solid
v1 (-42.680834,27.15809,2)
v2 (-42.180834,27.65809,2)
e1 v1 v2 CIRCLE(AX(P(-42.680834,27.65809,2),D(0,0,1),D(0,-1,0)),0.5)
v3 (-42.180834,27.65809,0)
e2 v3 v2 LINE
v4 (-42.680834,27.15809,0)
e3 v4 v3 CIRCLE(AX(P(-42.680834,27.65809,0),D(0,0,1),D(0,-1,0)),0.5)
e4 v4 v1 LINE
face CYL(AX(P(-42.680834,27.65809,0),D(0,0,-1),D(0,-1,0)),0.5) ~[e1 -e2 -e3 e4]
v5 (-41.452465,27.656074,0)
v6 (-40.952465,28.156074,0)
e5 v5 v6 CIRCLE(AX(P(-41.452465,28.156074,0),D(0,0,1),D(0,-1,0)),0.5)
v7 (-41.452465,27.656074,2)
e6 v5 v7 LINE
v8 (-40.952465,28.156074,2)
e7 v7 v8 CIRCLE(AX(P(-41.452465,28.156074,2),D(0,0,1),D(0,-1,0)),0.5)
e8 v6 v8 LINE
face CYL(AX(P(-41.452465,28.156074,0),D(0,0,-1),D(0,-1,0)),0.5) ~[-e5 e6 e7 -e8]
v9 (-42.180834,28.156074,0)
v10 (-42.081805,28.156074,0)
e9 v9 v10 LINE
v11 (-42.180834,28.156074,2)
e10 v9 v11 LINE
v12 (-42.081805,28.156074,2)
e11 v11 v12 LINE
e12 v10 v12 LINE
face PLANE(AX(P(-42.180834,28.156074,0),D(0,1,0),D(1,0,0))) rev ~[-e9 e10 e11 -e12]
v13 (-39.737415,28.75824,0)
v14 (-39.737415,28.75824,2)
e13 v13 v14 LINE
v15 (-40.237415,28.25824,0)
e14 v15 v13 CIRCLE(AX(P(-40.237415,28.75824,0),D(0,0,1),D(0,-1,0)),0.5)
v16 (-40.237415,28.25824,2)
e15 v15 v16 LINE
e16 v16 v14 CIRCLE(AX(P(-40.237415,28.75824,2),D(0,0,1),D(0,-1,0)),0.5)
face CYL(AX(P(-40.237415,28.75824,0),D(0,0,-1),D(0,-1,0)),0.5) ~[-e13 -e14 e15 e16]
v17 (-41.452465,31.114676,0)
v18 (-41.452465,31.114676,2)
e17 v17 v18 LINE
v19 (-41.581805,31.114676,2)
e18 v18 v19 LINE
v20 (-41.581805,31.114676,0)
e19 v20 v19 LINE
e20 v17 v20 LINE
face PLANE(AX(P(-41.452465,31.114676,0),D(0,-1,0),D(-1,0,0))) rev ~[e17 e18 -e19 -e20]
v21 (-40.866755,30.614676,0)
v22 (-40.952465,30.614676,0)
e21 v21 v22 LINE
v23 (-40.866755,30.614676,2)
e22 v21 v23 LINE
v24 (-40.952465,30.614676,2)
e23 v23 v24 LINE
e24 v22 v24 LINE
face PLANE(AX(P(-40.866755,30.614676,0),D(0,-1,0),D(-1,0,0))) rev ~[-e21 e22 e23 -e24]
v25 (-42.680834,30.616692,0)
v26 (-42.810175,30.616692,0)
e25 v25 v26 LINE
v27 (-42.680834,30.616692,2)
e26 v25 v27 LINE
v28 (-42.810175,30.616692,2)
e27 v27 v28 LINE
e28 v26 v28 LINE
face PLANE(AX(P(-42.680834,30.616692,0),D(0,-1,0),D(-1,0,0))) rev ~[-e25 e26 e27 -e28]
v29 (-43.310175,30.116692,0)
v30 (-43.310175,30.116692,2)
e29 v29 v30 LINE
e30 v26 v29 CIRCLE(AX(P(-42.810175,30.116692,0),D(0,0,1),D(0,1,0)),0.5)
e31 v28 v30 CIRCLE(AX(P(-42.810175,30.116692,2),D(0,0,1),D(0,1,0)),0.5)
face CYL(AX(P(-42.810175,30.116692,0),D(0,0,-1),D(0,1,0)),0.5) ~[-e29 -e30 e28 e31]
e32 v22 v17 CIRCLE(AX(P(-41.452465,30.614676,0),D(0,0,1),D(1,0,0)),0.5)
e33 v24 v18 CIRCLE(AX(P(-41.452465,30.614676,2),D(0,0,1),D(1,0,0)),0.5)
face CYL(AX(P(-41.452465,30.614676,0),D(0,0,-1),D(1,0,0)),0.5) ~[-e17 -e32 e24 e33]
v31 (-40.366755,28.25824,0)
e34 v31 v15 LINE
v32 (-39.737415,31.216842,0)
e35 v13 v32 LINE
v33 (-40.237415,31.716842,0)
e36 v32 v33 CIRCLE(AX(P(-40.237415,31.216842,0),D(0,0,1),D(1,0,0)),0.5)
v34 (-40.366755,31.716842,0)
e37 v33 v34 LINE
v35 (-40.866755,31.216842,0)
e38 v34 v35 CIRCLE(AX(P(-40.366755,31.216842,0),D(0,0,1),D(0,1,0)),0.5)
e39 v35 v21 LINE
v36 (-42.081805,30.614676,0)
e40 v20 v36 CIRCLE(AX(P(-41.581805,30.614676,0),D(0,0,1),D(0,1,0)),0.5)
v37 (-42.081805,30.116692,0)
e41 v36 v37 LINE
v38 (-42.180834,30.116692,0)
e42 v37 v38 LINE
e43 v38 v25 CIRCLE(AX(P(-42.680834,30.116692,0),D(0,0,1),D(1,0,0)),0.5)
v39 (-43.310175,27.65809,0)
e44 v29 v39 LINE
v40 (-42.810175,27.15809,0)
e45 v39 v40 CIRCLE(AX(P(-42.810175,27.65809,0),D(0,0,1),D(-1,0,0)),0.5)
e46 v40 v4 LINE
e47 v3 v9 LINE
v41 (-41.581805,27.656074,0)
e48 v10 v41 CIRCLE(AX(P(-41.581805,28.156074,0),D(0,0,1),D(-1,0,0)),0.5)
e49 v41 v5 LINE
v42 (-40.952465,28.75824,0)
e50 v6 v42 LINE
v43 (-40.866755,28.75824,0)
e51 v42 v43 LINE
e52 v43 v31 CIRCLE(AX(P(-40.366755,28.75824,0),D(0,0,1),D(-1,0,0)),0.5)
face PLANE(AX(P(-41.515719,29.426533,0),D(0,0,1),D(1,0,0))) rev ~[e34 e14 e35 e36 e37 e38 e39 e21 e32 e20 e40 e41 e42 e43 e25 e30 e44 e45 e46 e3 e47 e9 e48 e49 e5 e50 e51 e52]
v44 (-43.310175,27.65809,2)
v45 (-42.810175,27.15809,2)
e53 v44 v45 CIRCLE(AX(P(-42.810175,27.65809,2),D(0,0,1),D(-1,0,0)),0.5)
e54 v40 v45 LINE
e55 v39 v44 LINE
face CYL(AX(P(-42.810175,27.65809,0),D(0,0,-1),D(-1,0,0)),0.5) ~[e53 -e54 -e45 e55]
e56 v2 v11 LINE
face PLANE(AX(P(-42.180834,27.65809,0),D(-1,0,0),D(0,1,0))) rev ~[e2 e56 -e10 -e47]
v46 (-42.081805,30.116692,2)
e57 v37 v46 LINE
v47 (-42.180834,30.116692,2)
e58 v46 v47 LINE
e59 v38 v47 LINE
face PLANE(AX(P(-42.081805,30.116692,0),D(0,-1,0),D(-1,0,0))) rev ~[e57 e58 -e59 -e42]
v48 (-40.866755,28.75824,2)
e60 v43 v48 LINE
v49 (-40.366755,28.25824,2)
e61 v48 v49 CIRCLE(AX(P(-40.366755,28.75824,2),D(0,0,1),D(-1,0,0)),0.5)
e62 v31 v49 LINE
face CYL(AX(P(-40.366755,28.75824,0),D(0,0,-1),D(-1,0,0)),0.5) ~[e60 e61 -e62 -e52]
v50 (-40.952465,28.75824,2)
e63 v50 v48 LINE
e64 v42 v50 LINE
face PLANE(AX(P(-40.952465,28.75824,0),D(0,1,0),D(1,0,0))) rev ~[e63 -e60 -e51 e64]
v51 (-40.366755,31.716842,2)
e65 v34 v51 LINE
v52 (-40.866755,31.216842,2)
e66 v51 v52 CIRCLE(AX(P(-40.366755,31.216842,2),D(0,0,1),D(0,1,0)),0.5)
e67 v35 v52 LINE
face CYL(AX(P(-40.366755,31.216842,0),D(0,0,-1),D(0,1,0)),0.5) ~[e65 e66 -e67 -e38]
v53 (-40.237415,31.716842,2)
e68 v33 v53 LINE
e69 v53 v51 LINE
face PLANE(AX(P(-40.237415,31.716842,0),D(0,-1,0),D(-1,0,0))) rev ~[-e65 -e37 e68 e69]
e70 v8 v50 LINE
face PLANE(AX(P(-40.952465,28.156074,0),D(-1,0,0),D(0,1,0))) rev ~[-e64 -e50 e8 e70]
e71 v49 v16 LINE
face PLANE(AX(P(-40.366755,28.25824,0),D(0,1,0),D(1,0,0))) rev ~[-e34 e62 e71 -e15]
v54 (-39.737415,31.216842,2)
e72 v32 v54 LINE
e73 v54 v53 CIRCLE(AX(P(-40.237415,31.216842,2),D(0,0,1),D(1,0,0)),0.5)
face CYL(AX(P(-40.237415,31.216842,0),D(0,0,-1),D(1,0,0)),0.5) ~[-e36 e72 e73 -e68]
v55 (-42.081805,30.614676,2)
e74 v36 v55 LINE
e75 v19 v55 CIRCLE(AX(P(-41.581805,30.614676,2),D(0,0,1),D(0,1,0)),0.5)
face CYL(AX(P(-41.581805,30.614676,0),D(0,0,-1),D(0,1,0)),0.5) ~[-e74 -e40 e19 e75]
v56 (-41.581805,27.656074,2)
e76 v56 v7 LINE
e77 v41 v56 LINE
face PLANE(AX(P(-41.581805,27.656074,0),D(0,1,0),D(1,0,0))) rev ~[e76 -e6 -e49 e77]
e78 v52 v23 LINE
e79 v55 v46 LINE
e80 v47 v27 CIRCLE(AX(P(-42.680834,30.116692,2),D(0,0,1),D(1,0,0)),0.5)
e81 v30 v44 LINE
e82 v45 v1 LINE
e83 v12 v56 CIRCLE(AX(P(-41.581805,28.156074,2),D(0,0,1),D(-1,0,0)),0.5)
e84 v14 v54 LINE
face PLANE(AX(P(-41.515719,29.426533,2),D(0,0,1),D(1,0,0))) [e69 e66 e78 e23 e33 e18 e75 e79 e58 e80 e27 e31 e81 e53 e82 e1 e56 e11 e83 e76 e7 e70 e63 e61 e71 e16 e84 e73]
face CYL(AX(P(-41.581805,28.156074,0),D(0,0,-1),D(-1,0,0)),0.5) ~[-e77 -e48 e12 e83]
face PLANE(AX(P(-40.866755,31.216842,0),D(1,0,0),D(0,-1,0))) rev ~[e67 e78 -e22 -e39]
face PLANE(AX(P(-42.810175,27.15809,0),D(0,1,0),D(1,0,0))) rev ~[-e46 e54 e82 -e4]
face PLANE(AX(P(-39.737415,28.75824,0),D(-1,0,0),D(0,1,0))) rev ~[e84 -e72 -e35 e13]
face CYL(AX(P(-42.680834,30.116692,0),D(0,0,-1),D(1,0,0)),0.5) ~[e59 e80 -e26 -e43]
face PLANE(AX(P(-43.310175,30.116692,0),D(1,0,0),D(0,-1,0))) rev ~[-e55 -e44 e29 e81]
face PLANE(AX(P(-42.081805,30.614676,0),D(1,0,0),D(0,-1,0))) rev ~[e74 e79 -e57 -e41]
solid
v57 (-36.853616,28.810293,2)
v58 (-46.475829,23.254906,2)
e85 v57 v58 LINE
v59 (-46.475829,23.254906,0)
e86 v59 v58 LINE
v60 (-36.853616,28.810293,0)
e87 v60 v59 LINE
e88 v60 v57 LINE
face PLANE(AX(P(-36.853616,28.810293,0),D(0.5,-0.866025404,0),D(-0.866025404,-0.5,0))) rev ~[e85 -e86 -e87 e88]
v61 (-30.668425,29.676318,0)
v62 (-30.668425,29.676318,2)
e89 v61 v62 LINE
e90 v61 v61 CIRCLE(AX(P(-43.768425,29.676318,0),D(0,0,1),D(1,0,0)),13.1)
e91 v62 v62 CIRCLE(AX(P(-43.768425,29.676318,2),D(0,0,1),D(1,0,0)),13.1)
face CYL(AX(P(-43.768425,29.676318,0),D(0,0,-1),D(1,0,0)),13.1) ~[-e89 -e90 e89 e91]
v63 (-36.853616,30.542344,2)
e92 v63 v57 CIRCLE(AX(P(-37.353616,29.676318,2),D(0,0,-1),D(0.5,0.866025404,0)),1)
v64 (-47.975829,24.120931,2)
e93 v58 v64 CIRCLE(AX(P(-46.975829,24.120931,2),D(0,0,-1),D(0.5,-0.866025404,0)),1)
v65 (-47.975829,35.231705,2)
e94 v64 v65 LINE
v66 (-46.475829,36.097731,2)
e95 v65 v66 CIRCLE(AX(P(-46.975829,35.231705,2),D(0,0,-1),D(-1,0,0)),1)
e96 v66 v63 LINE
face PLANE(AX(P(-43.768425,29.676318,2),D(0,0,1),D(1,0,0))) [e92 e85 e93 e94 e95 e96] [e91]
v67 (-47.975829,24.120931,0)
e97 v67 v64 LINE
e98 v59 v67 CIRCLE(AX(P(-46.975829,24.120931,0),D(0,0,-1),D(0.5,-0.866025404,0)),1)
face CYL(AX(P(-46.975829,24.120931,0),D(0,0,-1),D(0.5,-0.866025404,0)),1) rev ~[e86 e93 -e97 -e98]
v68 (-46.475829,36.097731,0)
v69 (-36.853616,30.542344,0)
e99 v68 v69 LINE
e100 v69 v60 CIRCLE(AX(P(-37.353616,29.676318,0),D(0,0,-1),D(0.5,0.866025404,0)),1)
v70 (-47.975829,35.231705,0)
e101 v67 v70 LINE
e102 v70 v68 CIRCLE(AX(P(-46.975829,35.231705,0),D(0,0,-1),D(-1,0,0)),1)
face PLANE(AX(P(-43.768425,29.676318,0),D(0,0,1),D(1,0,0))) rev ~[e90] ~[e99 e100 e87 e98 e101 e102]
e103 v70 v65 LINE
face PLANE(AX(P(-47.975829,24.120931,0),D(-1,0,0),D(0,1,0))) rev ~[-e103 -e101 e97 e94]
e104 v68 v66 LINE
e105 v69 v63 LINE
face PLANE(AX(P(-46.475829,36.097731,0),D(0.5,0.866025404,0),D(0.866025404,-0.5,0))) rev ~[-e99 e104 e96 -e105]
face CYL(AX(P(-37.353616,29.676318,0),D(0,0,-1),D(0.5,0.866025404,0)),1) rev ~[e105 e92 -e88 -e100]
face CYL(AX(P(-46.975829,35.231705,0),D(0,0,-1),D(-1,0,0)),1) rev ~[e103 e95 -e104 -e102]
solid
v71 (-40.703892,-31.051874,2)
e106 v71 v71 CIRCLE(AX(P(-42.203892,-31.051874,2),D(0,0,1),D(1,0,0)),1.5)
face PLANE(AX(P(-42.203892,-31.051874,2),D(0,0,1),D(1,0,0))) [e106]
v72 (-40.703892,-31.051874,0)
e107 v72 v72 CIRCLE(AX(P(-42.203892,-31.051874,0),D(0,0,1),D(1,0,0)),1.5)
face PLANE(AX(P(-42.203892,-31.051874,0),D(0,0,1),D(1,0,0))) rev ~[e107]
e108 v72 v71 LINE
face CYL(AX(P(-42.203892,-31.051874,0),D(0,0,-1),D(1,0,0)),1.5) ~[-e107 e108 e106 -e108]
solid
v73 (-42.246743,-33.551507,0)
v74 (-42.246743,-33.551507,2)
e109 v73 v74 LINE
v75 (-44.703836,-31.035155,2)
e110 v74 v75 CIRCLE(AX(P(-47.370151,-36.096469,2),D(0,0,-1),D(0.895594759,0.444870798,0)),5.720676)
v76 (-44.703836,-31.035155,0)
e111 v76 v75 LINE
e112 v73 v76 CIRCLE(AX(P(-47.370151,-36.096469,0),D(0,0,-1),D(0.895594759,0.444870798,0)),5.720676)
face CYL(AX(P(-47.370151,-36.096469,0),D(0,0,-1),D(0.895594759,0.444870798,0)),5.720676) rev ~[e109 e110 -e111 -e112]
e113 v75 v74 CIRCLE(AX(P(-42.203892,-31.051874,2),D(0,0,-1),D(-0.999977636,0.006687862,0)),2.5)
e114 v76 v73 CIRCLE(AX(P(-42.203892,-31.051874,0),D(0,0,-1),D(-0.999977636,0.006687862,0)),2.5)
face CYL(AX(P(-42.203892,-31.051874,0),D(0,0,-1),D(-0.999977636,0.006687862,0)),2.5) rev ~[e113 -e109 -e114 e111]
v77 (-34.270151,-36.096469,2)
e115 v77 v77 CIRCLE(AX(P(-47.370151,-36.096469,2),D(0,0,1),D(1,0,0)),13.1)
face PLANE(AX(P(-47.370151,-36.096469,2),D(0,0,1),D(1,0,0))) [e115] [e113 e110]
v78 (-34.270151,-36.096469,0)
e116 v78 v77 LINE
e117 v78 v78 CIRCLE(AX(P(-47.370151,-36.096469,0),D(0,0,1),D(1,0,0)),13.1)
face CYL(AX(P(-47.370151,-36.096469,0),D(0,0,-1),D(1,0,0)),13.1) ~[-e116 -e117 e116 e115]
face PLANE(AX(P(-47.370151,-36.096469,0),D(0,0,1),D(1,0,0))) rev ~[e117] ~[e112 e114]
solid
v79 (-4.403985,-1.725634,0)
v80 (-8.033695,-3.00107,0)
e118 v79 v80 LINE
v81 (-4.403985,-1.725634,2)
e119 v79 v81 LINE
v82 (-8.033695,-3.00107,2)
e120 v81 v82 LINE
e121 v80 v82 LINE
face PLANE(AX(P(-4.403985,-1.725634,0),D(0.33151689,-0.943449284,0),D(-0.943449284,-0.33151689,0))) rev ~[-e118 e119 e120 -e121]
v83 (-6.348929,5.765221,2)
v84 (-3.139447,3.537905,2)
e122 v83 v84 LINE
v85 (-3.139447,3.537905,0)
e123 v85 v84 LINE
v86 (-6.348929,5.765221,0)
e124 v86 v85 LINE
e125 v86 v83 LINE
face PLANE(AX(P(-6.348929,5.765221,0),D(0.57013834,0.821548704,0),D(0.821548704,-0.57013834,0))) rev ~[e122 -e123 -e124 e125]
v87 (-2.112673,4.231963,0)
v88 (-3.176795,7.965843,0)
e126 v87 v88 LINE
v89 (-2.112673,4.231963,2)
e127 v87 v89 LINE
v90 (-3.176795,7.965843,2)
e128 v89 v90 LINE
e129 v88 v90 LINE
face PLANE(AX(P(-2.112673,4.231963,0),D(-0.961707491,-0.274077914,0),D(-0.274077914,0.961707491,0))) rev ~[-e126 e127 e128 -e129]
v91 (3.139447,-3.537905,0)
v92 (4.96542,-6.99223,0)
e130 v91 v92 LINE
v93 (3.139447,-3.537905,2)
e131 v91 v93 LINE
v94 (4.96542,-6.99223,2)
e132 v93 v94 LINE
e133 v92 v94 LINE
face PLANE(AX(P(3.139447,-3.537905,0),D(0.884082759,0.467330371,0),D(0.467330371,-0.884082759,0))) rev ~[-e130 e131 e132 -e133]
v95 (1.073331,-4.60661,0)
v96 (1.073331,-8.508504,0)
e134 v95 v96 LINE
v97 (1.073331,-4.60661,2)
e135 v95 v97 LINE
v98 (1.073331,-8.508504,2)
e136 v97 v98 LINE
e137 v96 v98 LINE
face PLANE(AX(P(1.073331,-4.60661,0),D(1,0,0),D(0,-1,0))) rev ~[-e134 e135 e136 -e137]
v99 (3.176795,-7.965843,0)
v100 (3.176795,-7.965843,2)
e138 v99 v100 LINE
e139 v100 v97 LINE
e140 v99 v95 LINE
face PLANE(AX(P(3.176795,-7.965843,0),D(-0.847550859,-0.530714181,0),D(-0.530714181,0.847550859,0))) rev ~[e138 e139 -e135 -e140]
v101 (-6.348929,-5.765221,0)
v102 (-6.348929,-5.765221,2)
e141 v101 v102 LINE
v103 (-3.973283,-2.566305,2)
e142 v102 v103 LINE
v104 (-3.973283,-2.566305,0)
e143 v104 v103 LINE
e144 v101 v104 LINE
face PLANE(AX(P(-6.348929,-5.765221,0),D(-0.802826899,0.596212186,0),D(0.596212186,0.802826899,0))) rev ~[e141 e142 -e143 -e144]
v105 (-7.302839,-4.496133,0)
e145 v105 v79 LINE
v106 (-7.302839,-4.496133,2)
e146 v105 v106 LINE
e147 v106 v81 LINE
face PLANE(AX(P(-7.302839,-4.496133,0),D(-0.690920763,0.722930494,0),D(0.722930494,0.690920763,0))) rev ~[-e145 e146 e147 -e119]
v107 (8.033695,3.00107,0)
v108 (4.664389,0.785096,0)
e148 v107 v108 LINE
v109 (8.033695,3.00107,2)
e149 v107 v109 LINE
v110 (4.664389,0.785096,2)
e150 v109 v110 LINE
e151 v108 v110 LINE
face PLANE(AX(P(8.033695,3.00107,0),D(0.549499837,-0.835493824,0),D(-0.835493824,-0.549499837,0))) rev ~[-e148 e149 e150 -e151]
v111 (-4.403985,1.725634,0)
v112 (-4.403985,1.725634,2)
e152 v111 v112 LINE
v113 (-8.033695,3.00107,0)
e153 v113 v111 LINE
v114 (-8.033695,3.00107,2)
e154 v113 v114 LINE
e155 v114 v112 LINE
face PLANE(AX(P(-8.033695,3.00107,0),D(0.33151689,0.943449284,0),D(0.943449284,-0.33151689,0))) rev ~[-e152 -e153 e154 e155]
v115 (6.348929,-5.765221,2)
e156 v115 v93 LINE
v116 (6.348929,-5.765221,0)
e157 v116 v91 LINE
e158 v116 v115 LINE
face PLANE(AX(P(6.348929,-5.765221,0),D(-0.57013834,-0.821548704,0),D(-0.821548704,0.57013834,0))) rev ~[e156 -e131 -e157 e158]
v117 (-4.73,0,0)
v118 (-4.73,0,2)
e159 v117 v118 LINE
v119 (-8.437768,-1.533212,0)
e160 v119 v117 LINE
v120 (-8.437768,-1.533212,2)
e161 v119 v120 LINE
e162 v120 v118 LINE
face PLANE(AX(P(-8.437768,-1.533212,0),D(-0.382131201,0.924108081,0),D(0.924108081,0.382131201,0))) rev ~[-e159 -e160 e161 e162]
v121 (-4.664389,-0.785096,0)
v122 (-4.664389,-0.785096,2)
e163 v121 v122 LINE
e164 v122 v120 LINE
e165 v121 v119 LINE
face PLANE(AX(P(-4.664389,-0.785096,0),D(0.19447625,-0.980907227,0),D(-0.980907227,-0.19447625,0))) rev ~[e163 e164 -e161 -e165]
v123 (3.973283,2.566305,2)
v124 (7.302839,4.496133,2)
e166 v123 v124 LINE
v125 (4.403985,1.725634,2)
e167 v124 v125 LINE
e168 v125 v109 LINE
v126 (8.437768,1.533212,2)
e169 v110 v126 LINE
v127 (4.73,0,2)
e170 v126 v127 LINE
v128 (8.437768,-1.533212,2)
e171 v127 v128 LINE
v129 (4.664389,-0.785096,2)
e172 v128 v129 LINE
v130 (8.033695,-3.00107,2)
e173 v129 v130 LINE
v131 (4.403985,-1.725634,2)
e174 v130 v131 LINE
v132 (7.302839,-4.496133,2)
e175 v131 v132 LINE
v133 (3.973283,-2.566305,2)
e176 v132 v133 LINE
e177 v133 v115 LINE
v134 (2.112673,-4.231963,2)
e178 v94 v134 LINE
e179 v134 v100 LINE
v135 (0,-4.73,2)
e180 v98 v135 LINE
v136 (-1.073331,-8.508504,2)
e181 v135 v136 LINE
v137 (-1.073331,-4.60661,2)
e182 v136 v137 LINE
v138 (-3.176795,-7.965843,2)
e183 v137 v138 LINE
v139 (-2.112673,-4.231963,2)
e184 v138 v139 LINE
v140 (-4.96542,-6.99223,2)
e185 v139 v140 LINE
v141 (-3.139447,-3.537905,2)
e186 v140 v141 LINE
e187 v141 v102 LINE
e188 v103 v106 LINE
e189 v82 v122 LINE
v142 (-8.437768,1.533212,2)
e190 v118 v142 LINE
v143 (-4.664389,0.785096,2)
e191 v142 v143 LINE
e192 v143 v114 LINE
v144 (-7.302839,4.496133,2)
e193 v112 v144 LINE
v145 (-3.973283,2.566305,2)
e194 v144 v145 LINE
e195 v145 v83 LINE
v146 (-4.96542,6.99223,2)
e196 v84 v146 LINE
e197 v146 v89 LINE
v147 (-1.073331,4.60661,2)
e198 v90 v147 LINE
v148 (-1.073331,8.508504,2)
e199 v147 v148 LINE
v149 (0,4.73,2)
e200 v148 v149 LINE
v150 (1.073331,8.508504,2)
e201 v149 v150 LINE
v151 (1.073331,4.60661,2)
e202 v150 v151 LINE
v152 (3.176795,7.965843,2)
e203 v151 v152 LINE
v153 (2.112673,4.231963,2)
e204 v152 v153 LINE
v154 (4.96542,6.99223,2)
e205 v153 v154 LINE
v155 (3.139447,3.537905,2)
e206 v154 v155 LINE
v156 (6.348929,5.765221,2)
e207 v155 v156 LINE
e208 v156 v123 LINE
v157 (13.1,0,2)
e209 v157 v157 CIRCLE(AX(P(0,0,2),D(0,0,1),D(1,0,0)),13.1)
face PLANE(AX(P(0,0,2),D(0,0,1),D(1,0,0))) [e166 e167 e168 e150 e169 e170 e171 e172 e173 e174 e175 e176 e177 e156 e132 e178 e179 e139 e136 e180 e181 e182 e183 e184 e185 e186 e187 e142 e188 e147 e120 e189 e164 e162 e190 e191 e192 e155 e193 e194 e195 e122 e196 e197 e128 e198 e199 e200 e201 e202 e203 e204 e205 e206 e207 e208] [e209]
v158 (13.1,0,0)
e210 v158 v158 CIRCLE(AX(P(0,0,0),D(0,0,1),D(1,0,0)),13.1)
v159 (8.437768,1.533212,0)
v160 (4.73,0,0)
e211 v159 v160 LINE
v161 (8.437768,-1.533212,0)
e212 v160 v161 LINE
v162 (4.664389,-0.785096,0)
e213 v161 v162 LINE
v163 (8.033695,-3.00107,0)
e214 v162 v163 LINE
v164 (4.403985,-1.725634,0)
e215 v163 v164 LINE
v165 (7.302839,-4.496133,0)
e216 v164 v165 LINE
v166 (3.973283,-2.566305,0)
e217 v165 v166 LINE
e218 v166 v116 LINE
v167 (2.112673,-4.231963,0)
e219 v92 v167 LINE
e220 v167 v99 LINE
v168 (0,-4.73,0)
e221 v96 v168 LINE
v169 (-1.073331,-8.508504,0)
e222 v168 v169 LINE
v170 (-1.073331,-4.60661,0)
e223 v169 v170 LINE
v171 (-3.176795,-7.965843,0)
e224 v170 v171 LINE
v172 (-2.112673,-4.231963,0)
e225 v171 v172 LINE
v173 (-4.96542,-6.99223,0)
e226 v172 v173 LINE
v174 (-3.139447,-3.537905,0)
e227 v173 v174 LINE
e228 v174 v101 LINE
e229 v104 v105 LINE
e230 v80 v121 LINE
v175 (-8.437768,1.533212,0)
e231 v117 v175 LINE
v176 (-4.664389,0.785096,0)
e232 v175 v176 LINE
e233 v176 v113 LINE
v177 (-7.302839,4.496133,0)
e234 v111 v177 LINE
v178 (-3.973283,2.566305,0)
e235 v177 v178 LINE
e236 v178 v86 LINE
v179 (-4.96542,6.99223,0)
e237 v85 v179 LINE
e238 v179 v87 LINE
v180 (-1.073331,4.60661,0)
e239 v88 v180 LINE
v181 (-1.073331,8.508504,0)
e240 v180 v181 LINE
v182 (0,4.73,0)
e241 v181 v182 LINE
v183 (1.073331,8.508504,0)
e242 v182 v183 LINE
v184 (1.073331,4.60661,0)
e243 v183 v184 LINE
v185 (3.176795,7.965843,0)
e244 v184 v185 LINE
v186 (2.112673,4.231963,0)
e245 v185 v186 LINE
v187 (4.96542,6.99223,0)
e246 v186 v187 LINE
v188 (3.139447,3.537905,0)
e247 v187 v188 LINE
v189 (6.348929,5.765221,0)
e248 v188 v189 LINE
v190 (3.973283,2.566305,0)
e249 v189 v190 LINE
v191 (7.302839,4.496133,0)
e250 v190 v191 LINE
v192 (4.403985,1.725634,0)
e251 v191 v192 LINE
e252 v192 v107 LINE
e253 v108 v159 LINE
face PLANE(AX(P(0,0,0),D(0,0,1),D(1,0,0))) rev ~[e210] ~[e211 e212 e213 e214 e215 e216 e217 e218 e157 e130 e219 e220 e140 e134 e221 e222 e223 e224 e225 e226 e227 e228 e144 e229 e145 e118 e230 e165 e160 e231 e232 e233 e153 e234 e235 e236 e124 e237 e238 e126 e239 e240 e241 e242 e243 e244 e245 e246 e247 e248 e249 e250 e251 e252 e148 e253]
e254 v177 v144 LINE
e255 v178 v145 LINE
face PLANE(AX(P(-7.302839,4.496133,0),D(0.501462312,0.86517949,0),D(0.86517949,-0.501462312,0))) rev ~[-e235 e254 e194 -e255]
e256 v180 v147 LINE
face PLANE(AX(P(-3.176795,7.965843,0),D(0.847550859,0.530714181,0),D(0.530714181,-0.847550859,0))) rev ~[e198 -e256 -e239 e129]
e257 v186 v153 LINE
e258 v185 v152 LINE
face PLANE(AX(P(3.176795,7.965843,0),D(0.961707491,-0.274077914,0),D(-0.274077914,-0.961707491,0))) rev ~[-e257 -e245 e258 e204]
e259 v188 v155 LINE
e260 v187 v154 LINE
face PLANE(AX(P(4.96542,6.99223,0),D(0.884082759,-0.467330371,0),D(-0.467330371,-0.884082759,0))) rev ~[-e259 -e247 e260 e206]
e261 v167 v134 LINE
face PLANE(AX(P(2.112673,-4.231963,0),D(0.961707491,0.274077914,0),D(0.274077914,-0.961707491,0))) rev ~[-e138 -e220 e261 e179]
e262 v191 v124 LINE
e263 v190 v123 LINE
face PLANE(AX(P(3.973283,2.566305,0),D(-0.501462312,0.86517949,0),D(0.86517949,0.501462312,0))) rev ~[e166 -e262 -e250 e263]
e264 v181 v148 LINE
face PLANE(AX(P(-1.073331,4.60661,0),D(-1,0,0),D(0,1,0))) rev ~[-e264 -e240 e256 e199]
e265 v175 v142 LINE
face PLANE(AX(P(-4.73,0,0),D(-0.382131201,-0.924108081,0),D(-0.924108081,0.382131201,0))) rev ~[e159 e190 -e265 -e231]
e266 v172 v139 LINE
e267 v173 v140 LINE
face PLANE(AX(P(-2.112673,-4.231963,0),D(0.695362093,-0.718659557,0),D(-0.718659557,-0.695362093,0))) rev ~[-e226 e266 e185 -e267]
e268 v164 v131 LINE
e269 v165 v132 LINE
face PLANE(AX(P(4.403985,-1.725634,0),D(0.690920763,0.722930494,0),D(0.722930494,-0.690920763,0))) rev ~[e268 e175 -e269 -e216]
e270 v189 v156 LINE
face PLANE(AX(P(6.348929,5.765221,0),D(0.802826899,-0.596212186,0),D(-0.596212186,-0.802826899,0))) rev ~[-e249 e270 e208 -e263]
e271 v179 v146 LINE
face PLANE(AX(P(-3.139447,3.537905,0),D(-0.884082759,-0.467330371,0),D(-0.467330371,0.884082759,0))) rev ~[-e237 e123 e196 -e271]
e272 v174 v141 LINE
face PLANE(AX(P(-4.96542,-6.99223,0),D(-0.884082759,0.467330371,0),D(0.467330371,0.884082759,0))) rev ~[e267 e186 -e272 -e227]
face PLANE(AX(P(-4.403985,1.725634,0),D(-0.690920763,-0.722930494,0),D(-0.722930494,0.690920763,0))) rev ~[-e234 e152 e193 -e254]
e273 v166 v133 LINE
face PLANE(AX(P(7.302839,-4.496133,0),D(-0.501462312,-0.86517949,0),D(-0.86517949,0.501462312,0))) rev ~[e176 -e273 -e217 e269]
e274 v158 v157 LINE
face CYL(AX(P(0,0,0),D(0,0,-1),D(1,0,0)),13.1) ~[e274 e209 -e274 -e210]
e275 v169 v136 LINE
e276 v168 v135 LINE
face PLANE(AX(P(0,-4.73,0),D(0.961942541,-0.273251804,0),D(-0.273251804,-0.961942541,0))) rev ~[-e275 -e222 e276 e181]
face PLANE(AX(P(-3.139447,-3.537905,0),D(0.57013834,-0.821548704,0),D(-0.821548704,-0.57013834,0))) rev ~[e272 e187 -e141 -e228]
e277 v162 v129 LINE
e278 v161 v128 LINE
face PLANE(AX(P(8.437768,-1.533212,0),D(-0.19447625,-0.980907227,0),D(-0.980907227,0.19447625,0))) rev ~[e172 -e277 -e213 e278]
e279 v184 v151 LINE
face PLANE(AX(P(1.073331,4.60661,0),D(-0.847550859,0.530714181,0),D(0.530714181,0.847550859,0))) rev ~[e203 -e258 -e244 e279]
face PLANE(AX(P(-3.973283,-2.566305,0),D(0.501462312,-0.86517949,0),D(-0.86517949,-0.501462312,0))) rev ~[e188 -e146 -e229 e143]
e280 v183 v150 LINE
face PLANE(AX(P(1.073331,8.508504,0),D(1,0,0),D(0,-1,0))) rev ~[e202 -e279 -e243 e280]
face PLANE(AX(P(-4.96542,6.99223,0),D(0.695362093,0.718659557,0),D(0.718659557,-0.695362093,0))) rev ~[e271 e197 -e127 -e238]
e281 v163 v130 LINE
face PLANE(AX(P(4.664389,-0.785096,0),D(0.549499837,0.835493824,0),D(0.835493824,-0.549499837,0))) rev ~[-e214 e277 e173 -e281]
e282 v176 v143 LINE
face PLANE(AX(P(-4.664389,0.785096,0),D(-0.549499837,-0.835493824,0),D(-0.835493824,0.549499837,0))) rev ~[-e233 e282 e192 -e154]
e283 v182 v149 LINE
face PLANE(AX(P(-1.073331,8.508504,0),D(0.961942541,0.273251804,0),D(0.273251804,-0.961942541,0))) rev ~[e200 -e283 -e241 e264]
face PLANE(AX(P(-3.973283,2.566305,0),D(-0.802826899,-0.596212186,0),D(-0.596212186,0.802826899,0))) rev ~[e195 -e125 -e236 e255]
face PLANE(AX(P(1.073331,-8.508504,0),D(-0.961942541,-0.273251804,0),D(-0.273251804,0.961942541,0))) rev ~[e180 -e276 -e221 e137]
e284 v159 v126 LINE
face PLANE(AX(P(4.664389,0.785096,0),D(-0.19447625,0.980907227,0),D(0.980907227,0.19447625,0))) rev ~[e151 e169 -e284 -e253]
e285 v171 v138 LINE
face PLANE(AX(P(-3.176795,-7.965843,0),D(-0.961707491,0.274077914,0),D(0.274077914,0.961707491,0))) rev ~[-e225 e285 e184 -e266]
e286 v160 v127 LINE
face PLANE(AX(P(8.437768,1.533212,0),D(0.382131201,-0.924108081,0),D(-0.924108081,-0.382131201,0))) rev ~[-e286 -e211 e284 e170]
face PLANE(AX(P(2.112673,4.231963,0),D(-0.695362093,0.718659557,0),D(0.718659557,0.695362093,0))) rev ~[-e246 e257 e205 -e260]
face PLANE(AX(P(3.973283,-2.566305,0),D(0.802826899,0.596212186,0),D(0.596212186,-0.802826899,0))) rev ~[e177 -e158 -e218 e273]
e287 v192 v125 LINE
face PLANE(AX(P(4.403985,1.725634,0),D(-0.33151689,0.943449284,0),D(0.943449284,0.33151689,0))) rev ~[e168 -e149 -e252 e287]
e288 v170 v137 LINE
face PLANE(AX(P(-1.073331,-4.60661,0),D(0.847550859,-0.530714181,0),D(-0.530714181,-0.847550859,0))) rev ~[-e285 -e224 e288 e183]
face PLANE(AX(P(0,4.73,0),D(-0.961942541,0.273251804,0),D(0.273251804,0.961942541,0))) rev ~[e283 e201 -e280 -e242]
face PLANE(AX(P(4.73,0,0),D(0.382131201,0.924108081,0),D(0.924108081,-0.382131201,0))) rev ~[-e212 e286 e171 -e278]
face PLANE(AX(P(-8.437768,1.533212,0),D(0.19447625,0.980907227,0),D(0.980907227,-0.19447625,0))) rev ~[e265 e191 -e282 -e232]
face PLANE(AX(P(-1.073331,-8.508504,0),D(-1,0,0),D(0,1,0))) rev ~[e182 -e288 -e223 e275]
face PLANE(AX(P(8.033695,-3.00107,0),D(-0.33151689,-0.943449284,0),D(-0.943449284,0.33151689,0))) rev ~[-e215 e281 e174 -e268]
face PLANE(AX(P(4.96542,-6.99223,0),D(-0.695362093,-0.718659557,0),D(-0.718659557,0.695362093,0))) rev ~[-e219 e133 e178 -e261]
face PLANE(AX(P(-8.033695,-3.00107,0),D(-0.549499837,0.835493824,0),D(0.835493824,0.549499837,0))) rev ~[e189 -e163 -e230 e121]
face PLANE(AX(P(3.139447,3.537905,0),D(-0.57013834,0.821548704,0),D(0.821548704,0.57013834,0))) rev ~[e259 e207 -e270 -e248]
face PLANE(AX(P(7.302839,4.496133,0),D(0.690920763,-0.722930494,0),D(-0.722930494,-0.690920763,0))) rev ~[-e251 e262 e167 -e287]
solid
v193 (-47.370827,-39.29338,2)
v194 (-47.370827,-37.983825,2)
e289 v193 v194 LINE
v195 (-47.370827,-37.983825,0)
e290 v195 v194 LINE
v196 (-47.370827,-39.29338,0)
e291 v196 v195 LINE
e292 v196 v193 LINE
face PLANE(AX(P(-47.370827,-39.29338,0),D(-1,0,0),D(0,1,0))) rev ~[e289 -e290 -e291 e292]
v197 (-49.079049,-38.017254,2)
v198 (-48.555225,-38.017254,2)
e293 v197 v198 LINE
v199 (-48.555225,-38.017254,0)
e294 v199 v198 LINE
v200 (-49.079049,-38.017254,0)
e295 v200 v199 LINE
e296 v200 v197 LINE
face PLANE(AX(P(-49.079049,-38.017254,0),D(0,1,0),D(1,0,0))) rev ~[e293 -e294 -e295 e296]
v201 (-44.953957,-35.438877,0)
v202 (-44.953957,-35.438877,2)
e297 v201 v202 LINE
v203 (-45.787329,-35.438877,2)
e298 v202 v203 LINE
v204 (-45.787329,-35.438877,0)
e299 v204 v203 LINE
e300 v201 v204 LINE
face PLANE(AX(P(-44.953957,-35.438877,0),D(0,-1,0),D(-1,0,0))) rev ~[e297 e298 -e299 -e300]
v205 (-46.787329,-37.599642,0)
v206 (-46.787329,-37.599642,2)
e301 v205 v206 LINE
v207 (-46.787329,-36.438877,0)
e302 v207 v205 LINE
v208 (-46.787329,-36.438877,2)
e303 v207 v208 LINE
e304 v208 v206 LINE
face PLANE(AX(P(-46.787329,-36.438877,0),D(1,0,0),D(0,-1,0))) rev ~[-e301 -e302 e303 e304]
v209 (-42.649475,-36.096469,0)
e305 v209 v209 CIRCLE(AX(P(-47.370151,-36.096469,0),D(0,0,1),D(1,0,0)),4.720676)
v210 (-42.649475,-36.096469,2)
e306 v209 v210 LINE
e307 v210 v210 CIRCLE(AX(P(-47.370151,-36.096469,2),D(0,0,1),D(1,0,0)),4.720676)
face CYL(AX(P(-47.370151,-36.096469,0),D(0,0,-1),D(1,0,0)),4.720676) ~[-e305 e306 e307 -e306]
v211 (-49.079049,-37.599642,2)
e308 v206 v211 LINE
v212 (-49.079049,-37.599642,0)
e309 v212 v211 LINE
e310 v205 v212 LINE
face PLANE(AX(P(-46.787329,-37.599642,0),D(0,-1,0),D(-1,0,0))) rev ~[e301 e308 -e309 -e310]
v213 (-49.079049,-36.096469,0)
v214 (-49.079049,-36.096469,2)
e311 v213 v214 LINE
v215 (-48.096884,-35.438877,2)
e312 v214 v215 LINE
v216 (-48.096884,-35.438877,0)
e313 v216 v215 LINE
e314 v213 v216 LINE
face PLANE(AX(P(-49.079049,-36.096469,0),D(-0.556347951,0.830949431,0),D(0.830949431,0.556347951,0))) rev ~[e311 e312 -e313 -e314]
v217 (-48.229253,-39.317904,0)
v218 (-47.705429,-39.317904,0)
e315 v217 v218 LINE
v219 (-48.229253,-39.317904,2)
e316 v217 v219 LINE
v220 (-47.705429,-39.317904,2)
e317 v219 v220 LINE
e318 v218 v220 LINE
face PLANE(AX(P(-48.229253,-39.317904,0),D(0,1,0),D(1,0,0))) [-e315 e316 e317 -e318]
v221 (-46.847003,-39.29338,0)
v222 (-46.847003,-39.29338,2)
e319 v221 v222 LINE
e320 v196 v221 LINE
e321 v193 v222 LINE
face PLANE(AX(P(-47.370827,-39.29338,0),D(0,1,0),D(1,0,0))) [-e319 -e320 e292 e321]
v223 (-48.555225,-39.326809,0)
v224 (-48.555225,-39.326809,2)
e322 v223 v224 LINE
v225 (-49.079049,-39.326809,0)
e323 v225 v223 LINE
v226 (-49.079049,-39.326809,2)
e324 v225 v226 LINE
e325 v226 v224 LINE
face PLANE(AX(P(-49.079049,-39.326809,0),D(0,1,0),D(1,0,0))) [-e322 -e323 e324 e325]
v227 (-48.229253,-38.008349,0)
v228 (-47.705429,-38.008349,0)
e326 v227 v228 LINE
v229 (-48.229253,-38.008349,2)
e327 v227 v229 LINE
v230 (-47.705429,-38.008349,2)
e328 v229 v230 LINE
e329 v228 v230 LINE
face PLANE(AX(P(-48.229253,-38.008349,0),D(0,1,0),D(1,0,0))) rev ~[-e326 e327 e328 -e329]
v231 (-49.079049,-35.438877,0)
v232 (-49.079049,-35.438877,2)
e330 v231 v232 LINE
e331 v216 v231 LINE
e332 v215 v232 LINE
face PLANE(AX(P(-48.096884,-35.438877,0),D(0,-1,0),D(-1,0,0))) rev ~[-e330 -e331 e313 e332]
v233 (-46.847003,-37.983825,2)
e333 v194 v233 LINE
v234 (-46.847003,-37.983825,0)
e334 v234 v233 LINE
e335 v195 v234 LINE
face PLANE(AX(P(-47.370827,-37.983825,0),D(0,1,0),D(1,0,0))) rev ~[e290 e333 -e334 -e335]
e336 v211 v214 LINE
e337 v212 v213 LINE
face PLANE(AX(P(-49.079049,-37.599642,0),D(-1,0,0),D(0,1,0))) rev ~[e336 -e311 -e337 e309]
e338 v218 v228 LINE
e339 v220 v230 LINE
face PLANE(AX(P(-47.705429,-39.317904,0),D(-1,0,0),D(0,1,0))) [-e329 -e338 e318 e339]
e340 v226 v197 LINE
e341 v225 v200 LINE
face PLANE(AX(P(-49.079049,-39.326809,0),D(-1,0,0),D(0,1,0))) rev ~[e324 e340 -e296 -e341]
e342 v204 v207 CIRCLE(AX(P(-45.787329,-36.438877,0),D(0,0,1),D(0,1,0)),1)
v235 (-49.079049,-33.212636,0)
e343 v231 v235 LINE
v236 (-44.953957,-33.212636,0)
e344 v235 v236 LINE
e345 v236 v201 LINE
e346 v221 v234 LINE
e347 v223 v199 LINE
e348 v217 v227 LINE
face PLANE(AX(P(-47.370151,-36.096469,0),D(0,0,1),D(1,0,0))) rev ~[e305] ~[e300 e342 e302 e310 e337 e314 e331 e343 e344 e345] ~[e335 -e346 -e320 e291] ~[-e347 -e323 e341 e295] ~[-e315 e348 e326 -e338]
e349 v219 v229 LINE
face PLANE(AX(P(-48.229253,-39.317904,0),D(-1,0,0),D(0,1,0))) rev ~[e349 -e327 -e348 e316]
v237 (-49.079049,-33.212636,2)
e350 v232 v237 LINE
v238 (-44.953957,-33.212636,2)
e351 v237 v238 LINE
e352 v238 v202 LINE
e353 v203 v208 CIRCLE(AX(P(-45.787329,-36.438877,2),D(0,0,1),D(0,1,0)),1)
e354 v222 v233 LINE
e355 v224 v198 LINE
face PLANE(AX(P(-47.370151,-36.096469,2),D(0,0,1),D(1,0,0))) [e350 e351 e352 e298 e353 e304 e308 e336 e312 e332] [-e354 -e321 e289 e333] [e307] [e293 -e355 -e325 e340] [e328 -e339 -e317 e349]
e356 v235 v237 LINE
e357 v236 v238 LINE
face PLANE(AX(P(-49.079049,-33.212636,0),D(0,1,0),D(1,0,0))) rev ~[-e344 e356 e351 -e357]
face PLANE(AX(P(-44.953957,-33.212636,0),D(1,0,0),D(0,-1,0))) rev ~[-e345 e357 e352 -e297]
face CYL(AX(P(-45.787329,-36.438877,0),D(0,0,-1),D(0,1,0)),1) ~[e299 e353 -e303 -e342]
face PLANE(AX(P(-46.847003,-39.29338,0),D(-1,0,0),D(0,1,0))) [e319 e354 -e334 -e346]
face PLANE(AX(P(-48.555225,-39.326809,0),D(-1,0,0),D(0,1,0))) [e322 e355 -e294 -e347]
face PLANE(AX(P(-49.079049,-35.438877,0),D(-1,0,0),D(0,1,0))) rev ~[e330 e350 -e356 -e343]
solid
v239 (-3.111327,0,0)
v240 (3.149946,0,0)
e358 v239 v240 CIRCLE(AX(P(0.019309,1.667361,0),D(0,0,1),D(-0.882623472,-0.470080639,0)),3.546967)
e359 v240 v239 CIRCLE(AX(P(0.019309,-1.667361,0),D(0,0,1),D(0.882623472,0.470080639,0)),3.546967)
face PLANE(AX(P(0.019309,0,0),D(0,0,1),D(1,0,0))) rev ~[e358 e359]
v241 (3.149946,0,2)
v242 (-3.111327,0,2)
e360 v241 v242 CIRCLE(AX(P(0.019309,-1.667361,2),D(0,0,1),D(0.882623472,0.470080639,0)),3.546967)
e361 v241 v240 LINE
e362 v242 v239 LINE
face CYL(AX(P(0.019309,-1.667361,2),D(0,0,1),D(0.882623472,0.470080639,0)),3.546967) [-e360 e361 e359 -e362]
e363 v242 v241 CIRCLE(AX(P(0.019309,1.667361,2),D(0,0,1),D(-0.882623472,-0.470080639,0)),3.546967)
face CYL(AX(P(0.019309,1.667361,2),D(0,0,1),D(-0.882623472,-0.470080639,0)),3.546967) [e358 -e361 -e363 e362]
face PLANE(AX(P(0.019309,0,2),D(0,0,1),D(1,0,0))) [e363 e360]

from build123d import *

# Parameters (mm, degrees)
F0_R     = 13.1
F1_DEPTH = 2
F3_DEPTH = 2
F2_R     = 13.1
F4_R     = 13.1
F5_DEPTH = 2
F4_R_2   = 1.5
F4_R_3   = 4.720675959
F4_W     = 0.5238242447
F4_H     = 1.3095550239
F7_DEPTH = 2


with BuildPart() as f1:
    # F0 (on Top) → F1 (new body)
    with BuildSketch(Plane.XY):
        Circle(F0_R)
        Polygon((-1.0733311857, 8.5085036043), (0, 4.73), (1.0733311857, 8.5085036043), (1.0733311857, 4.6066104856), (3.1767945382, 7.9658426974), (2.1126727823, 4.2319633405), (4.9654196676, 6.9922300407), (3.1394469995, 3.5379051057), (6.3489288674, 5.7652212147), (3.9732828103, 2.5663054591), (7.302839339, 4.4961328948), (4.403985486, 1.72563375), (8.0336946235, 3.0010704948), (4.6643889337, 0.7850960928), (8.4377682627, 1.5332123671), (4.73, 0), (8.4377682627, -1.5332123671), (4.6643889337, -0.7850960928), (8.0336946235, -3.0010704948), (4.403985486, -1.72563375), (7.302839339, -4.4961328948), (3.9732828103, -2.5663054591), (6.3489288674, -5.7652212147), (3.1394469995, -3.5379051057), (4.9654196676, -6.9922300407), (2.1126727823, -4.2319633405), (3.1767945382, -7.9658426974), (1.0733311857, -4.6066104856), (1.0733311857, -8.5085036043), (0, -4.73), (-1.0733311857, -8.5085036043), (-1.0733311857, -4.6066104856), (-3.1767945382, -7.9658426974), (-2.1126727823, -4.2319633405), (-4.9654196676, -6.9922300407), (-3.1394469995, -3.5379051057), (-6.3489288674, -5.7652212147), (-3.9732828103, -2.5663054591), (-7.302839339, -4.4961328948), (-4.403985486, -1.72563375), (-8.0336946235, -3.0010704948), (-4.6643889337, -0.7850960928), (-8.4377682627, -1.5332123671), (-4.73, 0), (-8.4377682627, 1.5332123671), (-4.6643889337, 0.7850960928), (-8.0336946235, 3.0010704948), (-4.403985486, 1.72563375), (-7.302839339, 4.4961328948), (-3.9732828103, 2.5663054591), (-6.3489288674, 5.7652212147), (-3.1394469995, 3.5379051057), (-4.9654196676, 6.9922300407), (-2.1126727823, 4.2319633405), (-3.1767945382, 7.9658426974), (-1.0733311857, 4.6066104856), align=None, mode=Mode.SUBTRACT)
    extrude(amount=F1_DEPTH)


with BuildPart() as f3:
    # F2 (on Top) → F3 (new body)
    with BuildSketch(Plane.XY):
        with BuildLine():
            ThreePointArc((-39.7374145687, 31.2168422043), (-39.8838611781, 31.5703955949), (-40.2374145687, 31.7168422043))
            Line((-40.2374145687, 31.7168422043), (-40.3667549491, 31.7168422043))
            ThreePointArc((-40.3667549491, 31.7168422043), (-40.7203083397, 31.5703955949), (-40.8667549491, 31.2168422043))
            Line((-40.8667549491, 31.2168422043), (-40.8667549491, 30.6146760359))
            Line((-40.8667549491, 30.6146760359), (-40.9524645656, 30.6146760359))
            ThreePointArc((-40.9524645656, 30.6146760359), (-41.098911175, 30.9682294265), (-41.4524645656, 31.1146760359))
            Line((-41.4524645656, 31.1146760359), (-41.5818049461, 31.1146760359))
            ThreePointArc((-41.5818049461, 31.1146760359), (-41.9353583367, 30.9682294265), (-42.0818049461, 30.6146760359))
            Line((-42.0818049461, 30.6146760359), (-42.0818049461, 30.1166922674))
            Line((-42.0818049461, 30.1166922674), (-42.1808343381, 30.1166922674))
            ThreePointArc((-42.1808343381, 30.1166922674), (-42.3272809475, 30.470245658), (-42.6808343381, 30.6166922674))
            Line((-42.6808343381, 30.6166922674), (-42.8101747185, 30.6166922674))
            ThreePointArc((-42.8101747185, 30.6166922674), (-43.1637281091, 30.470245658), (-43.3101747185, 30.1166922674))
            Line((-43.3101747185, 30.1166922674), (-43.3101747185, 27.6580899134))
            ThreePointArc((-43.3101747185, 27.6580899134), (-43.1637281091, 27.3045365228), (-42.8101747185, 27.1580899134))
            Line((-42.8101747185, 27.1580899134), (-42.6808343381, 27.1580899134))
            ThreePointArc((-42.6808343381, 27.1580899134), (-42.3272809475, 27.3045365228), (-42.1808343381, 27.6580899134))
            Line((-42.1808343381, 27.6580899134), (-42.1808343381, 28.156073682))
            Line((-42.1808343381, 28.156073682), (-42.0818049461, 28.156073682))
            ThreePointArc((-42.0818049461, 28.156073682), (-41.9353583367, 27.8025202914), (-41.5818049461, 27.656073682))
            Line((-41.5818049461, 27.656073682), (-41.4524645656, 27.656073682))
            ThreePointArc((-41.4524645656, 27.656073682), (-41.098911175, 27.8025202914), (-40.9524645656, 28.156073682))
            Line((-40.9524645656, 28.156073682), (-40.9524645656, 28.7582398504))
            Line((-40.9524645656, 28.7582398504), (-40.8667549491, 28.7582398504))
            ThreePointArc((-40.8667549491, 28.7582398504), (-40.7203083397, 28.4046864598), (-40.3667549491, 28.2582398504))
            Line((-40.3667549491, 28.2582398504), (-40.2374145687, 28.2582398504))
            ThreePointArc((-40.2374145687, 28.2582398504), (-39.8838611781, 28.4046864598), (-39.7374145687, 28.7582398504))
            Line((-39.7374145687, 28.7582398504), (-39.7374145687, 31.2168422043))
        make_face()
    extrude(amount=F3_DEPTH)


with BuildPart() as f3b:
    # F2 (on Top) → F3, piece 2 (new body)
    with BuildSketch(Plane.XY):
        with Locations((-43.7684245408, 29.6763181686)):
            Circle(F2_R)
        with BuildLine():
            ThreePointArc((-36.85361588, 30.5423435724), (-36.35361588, 29.6763181686), (-36.85361588, 28.8102927649))
            Line((-36.85361588, 28.8102927649), (-46.4758288711, 23.2549055042))
            ThreePointArc((-46.4758288711, 23.2549055042), (-47.4758288711, 23.2549055042), (-47.9758288711, 24.120930908))
            Line((-47.9758288711, 24.120930908), (-47.9758288711, 35.2317054293))
            ThreePointArc((-47.9758288711, 35.2317054293), (-47.4758288711, 36.097730833), (-46.4758288711, 36.097730833))
            Line((-46.4758288711, 36.097730833), (-36.85361588, 30.5423435724))
        make_face(mode=Mode.SUBTRACT)
    extrude(amount=F3_DEPTH)


with BuildPart() as f5:
    # F4 (on Top) → F5 (new body)
    with BuildSketch(Plane.XY):
        with Locations((-47.3701506853, -36.0964685678)):
            Circle(F4_R)
        with BuildLine():
            ThreePointArc((-44.7038361124, -31.0351545067), (-40.4151887582, -29.3052944653), (-42.2467432767, -33.5515068878))
            ThreePointArc((-42.2467432767, -33.5515068878), (-51.4631873897, -40.0931151576), (-44.7038361124, -31.0351545067))
        make_face(mode=Mode.SUBTRACT)
    extrude(amount=F5_DEPTH)


with BuildPart() as f5b:
    # F4 (on Top) → F5, piece 2 (new body)
    with BuildSketch(Plane.XY):
        with Locations((-42.2038920224, -31.0518741608)):
            Circle(F4_R_2)
    extrude(amount=F5_DEPTH)


with BuildPart() as f5c:
    # F4 (on Top) → F5, piece 3 (new body)
    with BuildSketch(Plane.XY):
        with Locations((-47.3701506853, -36.0964685678)):
            Circle(F4_R_3)
        with Locations((-48.8171372563, -38.6720318347)):
            Rectangle(F4_W, F4_H, mode=Mode.SUBTRACT)
        with Locations((-47.9673407972, -38.6631265283)):
            Rectangle(F4_W, F4_H, mode=Mode.SUBTRACT)
        with Locations((-47.1089147031, -38.6386029422)):
            Rectangle(F4_W, F4_H, mode=Mode.SUBTRACT)
        with BuildLine():
            Line((-46.7873290181, -33.2126356661), (-44.9539572001, -33.2126356661))
            Line((-44.9539572001, -33.2126356661), (-44.9539572001, -35.4388765991))
            Line((-44.9539572001, -35.4388765991), (-45.7873290181, -35.4388765991))
            ThreePointArc((-45.7873290181, -35.4388765991), (-46.4944357993, -35.7317698179), (-46.7873290181, -36.4388765991))
            Line((-46.7873290181, -36.4388765991), (-46.7873290181, -37.5996418297))
            Line((-46.7873290181, -37.5996418297), (-49.0790493786, -37.5996418297))
            Line((-49.0790493786, -37.5996418297), (-49.0790493786, -36.0964685678))
            Line((-49.0790493786, -36.0964685678), (-48.096884042, -35.4388765991))
            Line((-48.096884042, -35.4388765991), (-49.0790493786, -35.4388765991))
            Line((-49.0790493786, -35.4388765991), (-49.0790493786, -33.2126356661))
            Line((-49.0790493786, -33.2126356661), (-46.7873290181, -33.2126356661))
        make_face(mode=Mode.SUBTRACT)
    extrude(amount=F5_DEPTH)


with BuildPart() as f7:
    # F6 (on face) → F7 (new body)
    with BuildSketch(Plane.XY.offset(2)):
        with BuildLine():
            ThreePointArc((3.1499457546, 0), (0.0193092274, 1.879606606), (-3.1113272998, 0))
            ThreePointArc((-3.1113272998, 0), (0.0193092274, -1.879606606), (3.1499457546, 0))
        make_face()
    extrude(amount=-F7_DEPTH)


solid = Compound([f1.part, f3.part, f3b.part, f5.part, f5b.part, f5c.part, f7.part])
